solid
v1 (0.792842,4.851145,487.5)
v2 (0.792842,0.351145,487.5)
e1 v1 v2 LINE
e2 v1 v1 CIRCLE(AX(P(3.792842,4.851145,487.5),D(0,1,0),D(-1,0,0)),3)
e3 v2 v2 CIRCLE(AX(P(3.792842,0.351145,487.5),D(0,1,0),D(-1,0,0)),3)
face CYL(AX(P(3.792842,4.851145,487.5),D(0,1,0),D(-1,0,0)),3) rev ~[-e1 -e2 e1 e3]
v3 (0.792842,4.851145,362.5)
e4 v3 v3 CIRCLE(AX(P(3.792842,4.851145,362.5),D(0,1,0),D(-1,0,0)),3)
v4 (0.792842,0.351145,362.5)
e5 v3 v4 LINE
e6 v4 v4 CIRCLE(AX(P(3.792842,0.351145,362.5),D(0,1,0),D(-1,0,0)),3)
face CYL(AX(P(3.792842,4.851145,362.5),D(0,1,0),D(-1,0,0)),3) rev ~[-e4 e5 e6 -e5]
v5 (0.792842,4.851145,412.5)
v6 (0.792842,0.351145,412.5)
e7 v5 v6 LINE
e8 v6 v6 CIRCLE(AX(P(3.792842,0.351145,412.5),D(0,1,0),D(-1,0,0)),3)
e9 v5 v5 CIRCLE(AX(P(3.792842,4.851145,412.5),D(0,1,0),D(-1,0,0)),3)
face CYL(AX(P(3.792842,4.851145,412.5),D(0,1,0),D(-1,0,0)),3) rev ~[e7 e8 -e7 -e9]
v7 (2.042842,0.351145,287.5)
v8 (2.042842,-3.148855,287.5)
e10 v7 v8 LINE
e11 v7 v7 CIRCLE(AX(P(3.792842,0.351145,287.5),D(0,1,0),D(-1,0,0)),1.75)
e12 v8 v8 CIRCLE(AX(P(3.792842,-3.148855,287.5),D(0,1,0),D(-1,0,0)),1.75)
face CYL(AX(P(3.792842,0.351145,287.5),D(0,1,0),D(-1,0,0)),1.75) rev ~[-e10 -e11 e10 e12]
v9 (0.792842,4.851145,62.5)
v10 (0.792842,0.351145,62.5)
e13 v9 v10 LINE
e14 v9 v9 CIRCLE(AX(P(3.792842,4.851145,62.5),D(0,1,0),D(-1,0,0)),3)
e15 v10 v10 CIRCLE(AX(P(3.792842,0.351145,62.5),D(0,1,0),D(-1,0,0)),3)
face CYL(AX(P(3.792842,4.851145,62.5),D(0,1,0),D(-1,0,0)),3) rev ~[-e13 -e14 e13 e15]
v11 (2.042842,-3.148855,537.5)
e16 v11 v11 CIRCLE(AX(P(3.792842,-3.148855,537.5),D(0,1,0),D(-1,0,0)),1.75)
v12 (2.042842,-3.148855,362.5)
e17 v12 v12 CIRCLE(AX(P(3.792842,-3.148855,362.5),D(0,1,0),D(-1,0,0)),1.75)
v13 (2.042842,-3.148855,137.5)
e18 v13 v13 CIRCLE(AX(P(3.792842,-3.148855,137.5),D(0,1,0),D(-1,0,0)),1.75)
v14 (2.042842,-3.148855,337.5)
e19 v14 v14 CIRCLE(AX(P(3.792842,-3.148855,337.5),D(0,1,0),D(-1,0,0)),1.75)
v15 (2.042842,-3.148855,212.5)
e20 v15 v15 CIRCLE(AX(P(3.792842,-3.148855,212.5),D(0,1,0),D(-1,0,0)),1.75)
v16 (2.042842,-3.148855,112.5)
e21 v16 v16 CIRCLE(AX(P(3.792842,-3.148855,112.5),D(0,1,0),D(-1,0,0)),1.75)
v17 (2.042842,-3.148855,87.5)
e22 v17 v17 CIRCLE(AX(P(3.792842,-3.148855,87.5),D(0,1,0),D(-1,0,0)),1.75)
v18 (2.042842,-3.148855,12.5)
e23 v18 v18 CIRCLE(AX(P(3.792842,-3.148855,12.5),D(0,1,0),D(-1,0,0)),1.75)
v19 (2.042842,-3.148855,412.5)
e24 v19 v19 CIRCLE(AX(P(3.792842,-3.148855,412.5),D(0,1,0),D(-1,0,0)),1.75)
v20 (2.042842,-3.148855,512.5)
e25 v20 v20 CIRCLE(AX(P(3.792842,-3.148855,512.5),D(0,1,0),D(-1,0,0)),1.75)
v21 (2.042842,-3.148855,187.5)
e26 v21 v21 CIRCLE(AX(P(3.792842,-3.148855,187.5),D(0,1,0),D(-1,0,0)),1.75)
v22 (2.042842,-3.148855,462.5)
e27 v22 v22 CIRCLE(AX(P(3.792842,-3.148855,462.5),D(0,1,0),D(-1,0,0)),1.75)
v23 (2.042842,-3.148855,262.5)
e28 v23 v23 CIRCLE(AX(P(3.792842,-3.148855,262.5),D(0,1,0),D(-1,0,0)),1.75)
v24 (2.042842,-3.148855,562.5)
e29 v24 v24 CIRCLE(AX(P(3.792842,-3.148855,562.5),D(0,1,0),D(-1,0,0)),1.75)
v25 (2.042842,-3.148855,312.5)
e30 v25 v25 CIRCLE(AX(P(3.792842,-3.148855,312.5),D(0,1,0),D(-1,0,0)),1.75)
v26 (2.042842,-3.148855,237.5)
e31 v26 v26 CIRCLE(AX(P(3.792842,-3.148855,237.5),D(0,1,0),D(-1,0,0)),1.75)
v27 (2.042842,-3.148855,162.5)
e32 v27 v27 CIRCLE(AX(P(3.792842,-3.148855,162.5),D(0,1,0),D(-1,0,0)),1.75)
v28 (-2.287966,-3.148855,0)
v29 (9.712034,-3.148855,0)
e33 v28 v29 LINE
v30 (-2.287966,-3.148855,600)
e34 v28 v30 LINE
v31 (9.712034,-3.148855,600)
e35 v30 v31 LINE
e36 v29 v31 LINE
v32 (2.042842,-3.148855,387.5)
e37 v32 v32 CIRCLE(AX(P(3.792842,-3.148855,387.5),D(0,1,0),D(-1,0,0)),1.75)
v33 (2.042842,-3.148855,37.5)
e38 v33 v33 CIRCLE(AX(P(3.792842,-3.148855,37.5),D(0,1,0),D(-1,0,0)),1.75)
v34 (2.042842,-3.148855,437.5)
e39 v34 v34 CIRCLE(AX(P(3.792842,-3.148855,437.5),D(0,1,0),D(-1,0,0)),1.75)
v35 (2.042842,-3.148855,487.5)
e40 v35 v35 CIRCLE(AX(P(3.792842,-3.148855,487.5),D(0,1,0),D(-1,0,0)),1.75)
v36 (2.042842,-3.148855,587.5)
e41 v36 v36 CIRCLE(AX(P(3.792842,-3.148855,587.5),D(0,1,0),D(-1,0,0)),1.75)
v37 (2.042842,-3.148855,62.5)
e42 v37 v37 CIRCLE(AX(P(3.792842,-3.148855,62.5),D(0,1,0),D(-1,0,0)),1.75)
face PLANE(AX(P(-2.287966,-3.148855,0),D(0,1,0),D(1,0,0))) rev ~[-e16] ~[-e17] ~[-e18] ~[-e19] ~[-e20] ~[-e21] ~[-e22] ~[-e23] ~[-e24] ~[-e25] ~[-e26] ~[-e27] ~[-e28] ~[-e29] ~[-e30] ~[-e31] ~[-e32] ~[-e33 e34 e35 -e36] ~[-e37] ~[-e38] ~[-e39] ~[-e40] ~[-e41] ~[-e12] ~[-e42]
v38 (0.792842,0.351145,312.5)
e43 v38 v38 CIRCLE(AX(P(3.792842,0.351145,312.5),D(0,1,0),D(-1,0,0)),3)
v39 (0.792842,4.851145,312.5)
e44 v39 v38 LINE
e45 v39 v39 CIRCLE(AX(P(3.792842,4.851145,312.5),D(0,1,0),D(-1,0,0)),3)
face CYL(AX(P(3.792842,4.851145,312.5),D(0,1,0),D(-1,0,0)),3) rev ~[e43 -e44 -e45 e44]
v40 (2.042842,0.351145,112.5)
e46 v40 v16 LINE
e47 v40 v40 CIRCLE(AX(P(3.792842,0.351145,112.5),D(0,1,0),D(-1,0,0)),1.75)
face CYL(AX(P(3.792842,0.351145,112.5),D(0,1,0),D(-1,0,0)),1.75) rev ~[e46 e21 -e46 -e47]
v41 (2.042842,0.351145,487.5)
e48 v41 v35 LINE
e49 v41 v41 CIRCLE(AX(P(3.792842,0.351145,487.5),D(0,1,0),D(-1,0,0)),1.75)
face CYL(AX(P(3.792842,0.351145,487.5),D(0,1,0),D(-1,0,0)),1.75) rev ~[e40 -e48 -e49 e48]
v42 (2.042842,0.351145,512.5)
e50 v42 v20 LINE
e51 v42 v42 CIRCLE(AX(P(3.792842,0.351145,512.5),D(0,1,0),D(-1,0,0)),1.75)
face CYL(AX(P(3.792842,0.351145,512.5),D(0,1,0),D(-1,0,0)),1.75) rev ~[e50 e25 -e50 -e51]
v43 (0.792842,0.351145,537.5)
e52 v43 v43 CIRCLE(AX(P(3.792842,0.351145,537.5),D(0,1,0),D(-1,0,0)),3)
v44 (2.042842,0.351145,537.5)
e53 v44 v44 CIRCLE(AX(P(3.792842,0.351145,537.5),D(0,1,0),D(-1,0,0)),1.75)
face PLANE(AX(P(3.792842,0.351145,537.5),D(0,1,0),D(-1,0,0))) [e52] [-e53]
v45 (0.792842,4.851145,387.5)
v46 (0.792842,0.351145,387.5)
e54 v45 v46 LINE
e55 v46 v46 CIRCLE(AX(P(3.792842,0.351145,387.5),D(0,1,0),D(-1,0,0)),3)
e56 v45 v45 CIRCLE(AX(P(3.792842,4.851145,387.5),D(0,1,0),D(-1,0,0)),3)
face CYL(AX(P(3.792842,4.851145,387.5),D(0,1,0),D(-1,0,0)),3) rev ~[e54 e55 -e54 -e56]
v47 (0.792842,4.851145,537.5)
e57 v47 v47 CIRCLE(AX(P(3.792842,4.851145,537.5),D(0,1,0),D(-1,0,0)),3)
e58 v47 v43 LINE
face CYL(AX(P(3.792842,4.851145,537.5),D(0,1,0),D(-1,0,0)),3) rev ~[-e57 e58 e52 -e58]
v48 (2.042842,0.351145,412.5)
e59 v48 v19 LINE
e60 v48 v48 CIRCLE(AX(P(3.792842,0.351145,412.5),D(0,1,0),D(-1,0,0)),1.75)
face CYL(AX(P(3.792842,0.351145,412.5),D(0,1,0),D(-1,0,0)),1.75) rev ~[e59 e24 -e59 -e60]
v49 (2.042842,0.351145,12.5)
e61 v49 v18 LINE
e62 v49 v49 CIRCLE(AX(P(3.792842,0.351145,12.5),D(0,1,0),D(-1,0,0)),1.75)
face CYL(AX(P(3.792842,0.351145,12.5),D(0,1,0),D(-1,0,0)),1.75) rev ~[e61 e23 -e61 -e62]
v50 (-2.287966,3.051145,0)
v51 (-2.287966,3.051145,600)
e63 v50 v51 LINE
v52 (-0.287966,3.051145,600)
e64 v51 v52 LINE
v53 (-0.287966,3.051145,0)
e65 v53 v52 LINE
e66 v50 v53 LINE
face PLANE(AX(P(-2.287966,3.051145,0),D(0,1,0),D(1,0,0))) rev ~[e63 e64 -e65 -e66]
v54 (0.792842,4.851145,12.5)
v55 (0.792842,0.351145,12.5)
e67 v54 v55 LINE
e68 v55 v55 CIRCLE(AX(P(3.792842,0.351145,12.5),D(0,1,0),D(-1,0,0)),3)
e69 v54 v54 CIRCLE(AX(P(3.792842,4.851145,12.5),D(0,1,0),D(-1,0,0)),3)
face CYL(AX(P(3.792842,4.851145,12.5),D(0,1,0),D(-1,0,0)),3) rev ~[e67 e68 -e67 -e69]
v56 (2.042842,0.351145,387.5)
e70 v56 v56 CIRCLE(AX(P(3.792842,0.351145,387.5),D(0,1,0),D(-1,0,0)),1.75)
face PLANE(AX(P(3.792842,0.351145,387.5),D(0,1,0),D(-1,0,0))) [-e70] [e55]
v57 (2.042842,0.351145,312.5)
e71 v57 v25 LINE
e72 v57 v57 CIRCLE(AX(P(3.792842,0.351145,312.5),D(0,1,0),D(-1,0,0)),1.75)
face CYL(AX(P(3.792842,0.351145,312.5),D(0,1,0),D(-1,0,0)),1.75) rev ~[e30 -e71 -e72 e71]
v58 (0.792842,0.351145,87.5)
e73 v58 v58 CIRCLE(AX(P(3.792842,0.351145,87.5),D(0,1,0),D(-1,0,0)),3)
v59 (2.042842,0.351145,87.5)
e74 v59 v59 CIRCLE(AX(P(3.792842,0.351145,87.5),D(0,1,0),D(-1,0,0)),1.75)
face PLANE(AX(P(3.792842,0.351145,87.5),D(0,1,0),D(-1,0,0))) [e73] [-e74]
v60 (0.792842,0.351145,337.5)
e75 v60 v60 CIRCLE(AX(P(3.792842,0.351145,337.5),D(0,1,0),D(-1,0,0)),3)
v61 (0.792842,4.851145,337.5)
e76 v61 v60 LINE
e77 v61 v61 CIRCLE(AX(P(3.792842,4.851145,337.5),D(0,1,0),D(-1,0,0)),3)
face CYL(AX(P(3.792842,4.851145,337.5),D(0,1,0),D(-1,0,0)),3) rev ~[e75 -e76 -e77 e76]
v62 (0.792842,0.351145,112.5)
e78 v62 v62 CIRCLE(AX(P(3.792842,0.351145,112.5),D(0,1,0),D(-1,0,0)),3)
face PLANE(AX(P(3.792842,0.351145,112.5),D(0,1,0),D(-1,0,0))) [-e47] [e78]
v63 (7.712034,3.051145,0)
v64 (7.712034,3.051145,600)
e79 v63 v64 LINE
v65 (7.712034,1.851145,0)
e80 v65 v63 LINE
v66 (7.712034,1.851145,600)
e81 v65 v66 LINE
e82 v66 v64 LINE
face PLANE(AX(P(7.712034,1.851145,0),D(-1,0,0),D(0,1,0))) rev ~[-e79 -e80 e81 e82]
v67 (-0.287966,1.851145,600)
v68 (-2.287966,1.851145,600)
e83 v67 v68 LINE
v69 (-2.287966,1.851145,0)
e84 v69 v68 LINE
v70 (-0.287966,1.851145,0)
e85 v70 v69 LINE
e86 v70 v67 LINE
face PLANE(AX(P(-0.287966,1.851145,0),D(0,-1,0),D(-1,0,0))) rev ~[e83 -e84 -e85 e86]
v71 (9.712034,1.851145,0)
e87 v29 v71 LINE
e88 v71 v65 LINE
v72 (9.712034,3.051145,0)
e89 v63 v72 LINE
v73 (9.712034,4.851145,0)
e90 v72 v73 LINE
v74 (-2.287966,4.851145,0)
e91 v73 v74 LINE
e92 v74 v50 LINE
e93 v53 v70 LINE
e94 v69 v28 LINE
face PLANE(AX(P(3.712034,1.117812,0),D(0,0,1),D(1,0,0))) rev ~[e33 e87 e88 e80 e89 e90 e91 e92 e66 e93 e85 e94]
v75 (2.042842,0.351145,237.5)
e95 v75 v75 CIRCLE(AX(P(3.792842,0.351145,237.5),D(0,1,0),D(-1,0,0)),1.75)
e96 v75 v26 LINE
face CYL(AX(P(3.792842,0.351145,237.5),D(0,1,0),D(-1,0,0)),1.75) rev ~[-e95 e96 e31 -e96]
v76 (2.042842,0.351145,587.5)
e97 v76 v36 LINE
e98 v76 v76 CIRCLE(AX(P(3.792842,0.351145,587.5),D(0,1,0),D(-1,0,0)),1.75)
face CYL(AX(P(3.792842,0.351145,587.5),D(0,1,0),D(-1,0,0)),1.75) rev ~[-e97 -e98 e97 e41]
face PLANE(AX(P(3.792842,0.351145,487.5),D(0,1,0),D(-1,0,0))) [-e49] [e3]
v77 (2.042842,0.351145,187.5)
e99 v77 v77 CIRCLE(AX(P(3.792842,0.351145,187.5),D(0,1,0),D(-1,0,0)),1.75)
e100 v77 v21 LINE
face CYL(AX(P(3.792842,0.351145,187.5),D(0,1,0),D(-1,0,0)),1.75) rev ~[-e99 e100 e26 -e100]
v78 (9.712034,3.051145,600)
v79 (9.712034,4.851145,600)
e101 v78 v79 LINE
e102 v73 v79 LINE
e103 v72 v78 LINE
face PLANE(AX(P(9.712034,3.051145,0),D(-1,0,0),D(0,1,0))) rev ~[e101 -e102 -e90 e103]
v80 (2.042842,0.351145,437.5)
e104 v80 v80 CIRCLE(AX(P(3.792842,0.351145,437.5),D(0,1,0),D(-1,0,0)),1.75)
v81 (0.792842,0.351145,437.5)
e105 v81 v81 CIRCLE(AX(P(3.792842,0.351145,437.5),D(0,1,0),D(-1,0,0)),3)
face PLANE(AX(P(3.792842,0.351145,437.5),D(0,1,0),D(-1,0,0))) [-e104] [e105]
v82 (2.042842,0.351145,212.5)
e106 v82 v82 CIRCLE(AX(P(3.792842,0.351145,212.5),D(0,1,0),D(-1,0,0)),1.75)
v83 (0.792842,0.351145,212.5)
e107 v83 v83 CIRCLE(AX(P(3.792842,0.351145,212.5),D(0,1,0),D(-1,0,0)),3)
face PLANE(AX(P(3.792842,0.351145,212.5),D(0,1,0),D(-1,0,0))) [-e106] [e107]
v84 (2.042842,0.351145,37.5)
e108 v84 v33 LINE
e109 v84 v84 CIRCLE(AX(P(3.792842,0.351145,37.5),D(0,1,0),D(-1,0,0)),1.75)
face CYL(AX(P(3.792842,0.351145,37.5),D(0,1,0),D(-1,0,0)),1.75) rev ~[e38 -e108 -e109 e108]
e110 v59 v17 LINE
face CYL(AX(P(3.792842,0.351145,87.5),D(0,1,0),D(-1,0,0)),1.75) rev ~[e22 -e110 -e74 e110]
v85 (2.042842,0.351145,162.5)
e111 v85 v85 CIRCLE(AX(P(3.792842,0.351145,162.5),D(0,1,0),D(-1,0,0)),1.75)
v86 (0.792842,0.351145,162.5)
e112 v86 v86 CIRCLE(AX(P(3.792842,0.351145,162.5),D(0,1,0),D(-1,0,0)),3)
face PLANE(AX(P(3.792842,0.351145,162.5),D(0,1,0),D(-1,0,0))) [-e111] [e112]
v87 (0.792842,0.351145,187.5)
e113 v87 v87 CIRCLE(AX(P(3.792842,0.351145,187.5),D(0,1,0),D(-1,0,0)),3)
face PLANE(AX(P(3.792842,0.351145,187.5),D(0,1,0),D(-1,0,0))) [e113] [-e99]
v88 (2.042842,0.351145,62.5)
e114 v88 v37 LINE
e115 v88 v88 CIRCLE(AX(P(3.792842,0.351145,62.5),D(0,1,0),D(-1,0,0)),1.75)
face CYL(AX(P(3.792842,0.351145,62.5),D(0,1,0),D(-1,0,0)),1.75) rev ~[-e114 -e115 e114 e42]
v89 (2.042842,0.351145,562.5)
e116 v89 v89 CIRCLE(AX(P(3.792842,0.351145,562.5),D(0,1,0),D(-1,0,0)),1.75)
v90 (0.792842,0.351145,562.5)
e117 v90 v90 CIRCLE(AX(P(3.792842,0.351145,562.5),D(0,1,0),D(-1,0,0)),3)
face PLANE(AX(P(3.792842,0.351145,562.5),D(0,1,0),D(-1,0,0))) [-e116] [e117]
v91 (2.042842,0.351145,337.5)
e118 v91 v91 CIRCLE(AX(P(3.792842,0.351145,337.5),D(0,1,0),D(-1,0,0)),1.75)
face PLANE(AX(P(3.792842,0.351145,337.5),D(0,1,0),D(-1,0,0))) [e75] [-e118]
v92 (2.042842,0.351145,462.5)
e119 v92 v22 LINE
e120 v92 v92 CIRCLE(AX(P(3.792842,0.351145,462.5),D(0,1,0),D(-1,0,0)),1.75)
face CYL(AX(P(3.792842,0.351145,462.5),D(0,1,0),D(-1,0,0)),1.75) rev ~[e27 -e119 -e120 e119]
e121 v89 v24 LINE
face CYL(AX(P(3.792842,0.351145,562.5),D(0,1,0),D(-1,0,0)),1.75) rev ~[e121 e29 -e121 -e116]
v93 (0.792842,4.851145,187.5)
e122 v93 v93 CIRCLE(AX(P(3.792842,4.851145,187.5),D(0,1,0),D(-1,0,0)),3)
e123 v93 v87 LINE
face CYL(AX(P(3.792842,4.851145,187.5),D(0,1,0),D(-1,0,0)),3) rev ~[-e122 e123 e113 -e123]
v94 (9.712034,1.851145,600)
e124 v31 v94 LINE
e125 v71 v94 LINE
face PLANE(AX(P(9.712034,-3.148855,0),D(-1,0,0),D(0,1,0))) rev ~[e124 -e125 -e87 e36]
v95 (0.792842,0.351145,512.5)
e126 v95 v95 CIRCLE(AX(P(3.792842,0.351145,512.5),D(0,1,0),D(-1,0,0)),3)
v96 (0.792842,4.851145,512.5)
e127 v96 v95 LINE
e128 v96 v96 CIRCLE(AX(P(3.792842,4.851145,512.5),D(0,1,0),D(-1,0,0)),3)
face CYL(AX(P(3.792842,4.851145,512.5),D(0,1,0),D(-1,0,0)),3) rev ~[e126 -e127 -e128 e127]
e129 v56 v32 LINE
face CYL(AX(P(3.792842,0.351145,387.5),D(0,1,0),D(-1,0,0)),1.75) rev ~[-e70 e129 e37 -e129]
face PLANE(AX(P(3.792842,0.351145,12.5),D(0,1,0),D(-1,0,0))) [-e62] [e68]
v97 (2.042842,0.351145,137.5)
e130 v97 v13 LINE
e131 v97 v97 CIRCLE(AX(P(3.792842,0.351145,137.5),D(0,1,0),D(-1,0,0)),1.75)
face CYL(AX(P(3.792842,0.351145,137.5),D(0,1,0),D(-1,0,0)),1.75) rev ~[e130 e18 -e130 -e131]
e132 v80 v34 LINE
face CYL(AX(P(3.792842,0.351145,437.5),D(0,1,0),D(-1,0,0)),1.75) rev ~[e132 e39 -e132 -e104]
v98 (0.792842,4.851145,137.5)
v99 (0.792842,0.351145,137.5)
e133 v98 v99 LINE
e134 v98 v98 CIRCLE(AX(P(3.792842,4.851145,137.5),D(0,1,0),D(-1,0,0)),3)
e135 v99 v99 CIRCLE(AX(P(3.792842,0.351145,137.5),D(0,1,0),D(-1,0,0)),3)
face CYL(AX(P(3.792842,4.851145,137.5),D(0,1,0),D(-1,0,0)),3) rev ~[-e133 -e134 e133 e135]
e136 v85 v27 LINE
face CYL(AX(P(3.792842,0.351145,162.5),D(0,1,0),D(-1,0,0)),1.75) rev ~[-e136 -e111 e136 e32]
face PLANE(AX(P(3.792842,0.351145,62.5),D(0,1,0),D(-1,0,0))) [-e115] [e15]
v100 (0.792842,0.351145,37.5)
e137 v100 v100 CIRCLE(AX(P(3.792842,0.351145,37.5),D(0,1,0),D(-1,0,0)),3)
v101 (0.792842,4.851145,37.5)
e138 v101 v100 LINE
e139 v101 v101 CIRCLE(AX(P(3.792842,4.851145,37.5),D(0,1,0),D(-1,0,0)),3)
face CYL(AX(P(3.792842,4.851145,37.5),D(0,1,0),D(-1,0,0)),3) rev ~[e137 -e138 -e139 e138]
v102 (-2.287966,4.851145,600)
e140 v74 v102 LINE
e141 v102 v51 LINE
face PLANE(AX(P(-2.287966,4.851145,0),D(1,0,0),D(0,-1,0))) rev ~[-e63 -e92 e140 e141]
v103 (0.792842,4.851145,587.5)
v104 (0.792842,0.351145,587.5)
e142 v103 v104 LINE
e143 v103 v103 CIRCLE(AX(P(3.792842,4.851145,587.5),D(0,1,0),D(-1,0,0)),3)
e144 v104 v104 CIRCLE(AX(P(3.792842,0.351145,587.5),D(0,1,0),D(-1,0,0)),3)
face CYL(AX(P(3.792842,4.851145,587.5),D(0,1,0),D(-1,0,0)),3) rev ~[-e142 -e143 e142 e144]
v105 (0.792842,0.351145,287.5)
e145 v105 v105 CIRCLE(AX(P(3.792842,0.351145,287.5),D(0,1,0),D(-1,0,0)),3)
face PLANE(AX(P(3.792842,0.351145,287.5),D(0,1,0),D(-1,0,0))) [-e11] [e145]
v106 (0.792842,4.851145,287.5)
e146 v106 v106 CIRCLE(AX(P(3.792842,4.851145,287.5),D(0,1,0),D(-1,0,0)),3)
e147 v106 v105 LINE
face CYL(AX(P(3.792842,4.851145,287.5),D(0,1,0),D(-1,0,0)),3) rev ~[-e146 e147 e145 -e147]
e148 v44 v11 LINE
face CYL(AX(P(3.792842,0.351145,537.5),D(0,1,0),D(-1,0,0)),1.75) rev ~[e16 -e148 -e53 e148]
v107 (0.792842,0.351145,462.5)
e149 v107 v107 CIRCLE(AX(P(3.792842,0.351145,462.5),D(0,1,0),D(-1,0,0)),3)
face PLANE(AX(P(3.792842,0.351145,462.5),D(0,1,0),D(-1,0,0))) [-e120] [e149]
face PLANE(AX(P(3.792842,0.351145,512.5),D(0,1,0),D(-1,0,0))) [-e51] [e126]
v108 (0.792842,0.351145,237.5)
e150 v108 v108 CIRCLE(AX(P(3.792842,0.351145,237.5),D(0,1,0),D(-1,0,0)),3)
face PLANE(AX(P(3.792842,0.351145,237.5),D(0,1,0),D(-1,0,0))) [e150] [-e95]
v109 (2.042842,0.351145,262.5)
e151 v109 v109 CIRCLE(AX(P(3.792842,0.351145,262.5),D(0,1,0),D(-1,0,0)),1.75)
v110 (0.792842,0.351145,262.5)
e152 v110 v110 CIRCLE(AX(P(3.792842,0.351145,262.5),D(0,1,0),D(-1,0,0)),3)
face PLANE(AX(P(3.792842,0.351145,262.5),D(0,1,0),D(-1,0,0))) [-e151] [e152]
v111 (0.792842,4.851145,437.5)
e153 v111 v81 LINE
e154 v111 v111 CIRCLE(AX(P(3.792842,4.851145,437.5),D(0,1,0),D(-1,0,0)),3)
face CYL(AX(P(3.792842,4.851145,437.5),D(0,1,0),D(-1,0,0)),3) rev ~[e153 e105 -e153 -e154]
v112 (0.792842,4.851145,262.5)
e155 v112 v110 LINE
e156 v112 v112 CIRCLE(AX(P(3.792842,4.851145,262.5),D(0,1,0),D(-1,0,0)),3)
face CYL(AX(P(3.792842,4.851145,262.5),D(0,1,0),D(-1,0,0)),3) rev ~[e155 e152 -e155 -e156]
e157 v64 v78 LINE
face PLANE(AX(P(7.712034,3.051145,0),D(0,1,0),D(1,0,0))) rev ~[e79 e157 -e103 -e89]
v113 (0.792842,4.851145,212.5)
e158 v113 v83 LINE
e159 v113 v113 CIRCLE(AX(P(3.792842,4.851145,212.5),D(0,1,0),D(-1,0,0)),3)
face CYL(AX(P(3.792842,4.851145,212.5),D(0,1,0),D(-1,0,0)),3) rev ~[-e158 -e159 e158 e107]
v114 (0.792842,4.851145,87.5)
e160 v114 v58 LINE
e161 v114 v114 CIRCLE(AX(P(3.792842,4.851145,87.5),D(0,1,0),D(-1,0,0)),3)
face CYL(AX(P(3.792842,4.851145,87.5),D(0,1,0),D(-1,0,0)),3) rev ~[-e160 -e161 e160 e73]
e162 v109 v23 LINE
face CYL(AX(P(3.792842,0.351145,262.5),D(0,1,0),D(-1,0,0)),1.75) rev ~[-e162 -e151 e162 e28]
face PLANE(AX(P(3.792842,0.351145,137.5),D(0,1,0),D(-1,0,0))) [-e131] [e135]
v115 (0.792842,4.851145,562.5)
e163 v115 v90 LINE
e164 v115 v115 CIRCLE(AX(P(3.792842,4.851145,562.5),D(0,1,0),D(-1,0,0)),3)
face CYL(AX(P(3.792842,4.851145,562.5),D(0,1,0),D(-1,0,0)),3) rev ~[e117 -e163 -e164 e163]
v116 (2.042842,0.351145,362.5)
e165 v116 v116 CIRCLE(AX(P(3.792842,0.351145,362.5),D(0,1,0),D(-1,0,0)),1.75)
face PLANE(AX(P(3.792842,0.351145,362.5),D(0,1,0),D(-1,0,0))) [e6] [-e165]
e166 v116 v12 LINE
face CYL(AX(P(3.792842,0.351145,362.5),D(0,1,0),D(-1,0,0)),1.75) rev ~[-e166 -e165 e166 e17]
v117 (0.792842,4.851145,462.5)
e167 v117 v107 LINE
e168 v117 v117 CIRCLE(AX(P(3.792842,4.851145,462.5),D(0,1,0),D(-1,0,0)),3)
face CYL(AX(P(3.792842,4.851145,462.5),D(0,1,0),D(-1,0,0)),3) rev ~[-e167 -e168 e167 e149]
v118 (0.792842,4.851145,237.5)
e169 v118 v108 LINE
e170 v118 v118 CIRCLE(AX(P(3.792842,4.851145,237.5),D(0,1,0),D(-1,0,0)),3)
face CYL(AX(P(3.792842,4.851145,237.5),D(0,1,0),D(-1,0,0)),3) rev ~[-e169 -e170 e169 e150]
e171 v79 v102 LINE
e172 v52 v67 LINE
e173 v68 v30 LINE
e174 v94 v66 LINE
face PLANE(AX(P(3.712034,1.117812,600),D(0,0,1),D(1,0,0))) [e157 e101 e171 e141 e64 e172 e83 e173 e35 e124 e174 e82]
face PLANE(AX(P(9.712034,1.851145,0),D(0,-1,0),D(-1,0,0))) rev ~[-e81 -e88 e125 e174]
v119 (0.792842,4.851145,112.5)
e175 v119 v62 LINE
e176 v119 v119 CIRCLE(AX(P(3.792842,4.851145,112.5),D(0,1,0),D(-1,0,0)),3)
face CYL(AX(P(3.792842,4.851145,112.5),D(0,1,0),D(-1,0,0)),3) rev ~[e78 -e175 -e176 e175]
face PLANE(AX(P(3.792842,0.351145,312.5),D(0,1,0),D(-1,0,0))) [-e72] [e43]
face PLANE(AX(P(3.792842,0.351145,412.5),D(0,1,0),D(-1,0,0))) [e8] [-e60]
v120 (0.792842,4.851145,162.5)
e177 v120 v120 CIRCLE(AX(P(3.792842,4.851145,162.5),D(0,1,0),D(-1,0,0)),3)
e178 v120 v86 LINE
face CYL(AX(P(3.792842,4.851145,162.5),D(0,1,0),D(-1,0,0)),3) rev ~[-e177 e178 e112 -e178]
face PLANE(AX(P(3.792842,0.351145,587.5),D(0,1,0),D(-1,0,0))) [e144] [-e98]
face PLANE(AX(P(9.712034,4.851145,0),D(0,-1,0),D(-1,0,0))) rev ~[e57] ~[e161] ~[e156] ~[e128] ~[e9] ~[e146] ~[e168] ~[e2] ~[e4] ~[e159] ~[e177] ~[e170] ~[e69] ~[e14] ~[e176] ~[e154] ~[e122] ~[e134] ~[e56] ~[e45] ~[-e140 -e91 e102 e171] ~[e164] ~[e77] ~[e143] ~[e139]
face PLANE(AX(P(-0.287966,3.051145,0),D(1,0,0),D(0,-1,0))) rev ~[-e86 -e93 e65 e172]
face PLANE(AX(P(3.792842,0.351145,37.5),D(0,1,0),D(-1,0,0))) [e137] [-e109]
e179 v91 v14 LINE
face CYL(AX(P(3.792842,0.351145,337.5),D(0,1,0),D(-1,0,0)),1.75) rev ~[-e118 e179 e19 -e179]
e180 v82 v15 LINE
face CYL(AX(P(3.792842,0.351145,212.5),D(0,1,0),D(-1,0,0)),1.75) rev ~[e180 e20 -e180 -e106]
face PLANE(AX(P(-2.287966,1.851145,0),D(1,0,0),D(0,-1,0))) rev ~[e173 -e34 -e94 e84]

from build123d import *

# Parameters (mm, degrees)
BOSS_EXTRU_1_DEPTH      = 600
ESQUISSE2_R             = 3
ENL_V_MAT_EXTRU_1_DEPTH = 4.5
ENL_V_MAT_EXTRU_2_REACH = 602.095
ESQUISSE3_R             = 1.75


with BuildPart() as part:
    # Esquisse1 → Boss.-Extru.1 (new body)
    with BuildSketch(Plane.XY):
        Polygon((-2.287966089, -3.148854962), (9.712033911, -3.148854962), (9.712033911, 1.851145038), (7.712033911, 1.851145038), (7.712033911, 3.051145038), (9.712033911, 3.051145038), (9.712033911, 4.851145038), (-2.287966089, 4.851145038), (-2.287966089, 3.051145038), (-0.287966089, 3.051145038), (-0.287966089, 1.851145038), (-2.287966089, 1.851145038), align=None)
    extrude(amount=BOSS_EXTRU_1_DEPTH)

    # Esquisse2 → Enlèv. mat.-Extru.1 (cut)
    with BuildSketch(Plane(origin=(0, 4.851145038, 0), x_dir=(1, 0, 0), z_dir=(0, 1, 0))):
        with Locations(Location((3.792841972, -587.5, 0), (0, 0, 180))):
            Circle(ESQUISSE2_R)
        with Locations(Location((3.792841972, -562.5, 0), (0, 0, 180))):
            Circle(ESQUISSE2_R)
        with Locations(Location((3.792841972, -537.5, 0), (0, 0, 180))):
            Circle(ESQUISSE2_R)
        with Locations(Location((3.792841972, -512.5, 0), (0, 0, 180))):
            Circle(ESQUISSE2_R)
        with Locations(Location((3.792841972, -487.5, 0), (0, 0, 180))):
            Circle(ESQUISSE2_R)
        with Locations(Location((3.792841972, -462.5, 0), (0, 0, 180))):
            Circle(ESQUISSE2_R)
        with Locations(Location((3.792841972, -437.5, 0), (0, 0, 180))):
            Circle(ESQUISSE2_R)
        with Locations(Location((3.792841972, -412.5, 0), (0, 0, 180))):
            Circle(ESQUISSE2_R)
        with Locations(Location((3.792841972, -387.5, 0), (0, 0, 180))):
            Circle(ESQUISSE2_R)
        with Locations(Location((3.792841972, -362.5, 0), (0, 0, 180))):
            Circle(ESQUISSE2_R)
        with Locations(Location((3.792841972, -337.5, 0), (0, 0, 180))):
            Circle(ESQUISSE2_R)
        with Locations(Location((3.792841972, -312.5, 0), (0, 0, 180))):
            Circle(ESQUISSE2_R)
        with Locations(Location((3.792841972, -287.5, 0), (0, 0, 180))):
            Circle(ESQUISSE2_R)
        with Locations(Location((3.792841972, -262.5, 0), (0, 0, 180))):
            Circle(ESQUISSE2_R)
        with Locations(Location((3.792841972, -237.5, 0), (0, 0, 180))):
            Circle(ESQUISSE2_R)
        with Locations(Location((3.792841972, -212.5, 0), (0, 0, 180))):
            Circle(ESQUISSE2_R)
        with Locations(Location((3.792841972, -187.5, 0), (0, 0, 180))):
            Circle(ESQUISSE2_R)
        with Locations(Location((3.792841972, -162.5, 0), (0, 0, 180))):
            Circle(ESQUISSE2_R)
        with Locations(Location((3.792841972, -137.5, 0), (0, 0, 180))):
            Circle(ESQUISSE2_R)
        with Locations(Location((3.792841972, -112.5, 0), (0, 0, 180))):
            Circle(ESQUISSE2_R)
        with Locations(Location((3.792841972, -87.5, 0), (0, 0, 180))):
            Circle(ESQUISSE2_R)
        with Locations(Location((3.792841972, -62.5, 0), (0, 0, 180))):
            Circle(ESQUISSE2_R)
        with Locations(Location((3.792841972, -37.5, 0), (0, 0, 180))):
            Circle(ESQUISSE2_R)
        with Locations(Location((3.792841972, -12.5, 0), (0, 0, 180))):
            Circle(ESQUISSE2_R)
    extrude(amount=-ENL_V_MAT_EXTRU_1_DEPTH, mode=Mode.SUBTRACT)

    # Esquisse3 → Enlèv. mat.-Extru.2 (cut, up to next)
    with BuildSketch(Plane(origin=(0, 0.351145038, 0), x_dir=(1, 0, 0), z_dir=(0, 1, 0)), mode=Mode.PRIVATE) as enl_v_mat_extru_2_sk1:
        with Locations(Location((3.792841972, -587.5, 0), (0, 0, 180))):
            Circle(ESQUISSE3_R)
    enl_v_mat_extru_2_tool1 = extrude(enl_v_mat_extru_2_sk1.sketch, amount=-ENL_V_MAT_EXTRU_2_REACH, mode=Mode.PRIVATE) & part.part
    # Esquisse3 → Enlèv. mat.-Extru.2 (cut, up to next)
    with BuildSketch(Plane(origin=(0, 0.351145038, 0), x_dir=(1, 0, 0), z_dir=(0, 1, 0)), mode=Mode.PRIVATE) as enl_v_mat_extru_2_sk2:
        with Locations(Location((3.792841972, -562.5, 0), (0, 0, 180))):
            Circle(ESQUISSE3_R)
    enl_v_mat_extru_2_tool2 = extrude(enl_v_mat_extru_2_sk2.sketch, amount=-ENL_V_MAT_EXTRU_2_REACH, mode=Mode.PRIVATE) & part.part
    # Esquisse3 → Enlèv. mat.-Extru.2 (cut, up to next)
    with BuildSketch(Plane(origin=(0, 0.351145038, 0), x_dir=(1, 0, 0), z_dir=(0, 1, 0)), mode=Mode.PRIVATE) as enl_v_mat_extru_2_sk3:
        with Locations(Location((3.792841972, -537.5, 0), (0, 0, 180))):
            Circle(ESQUISSE3_R)
    enl_v_mat_extru_2_tool3 = extrude(enl_v_mat_extru_2_sk3.sketch, amount=-ENL_V_MAT_EXTRU_2_REACH, mode=Mode.PRIVATE) & part.part
    # Esquisse3 → Enlèv. mat.-Extru.2 (cut, up to next)
    with BuildSketch(Plane(origin=(0, 0.351145038, 0), x_dir=(1, 0, 0), z_dir=(0, 1, 0)), mode=Mode.PRIVATE) as enl_v_mat_extru_2_sk4:
        with Locations(Location((3.792841972, -512.5, 0), (0, 0, 180))):
            Circle(ESQUISSE3_R)
    enl_v_mat_extru_2_tool4 = extrude(enl_v_mat_extru_2_sk4.sketch, amount=-ENL_V_MAT_EXTRU_2_REACH, mode=Mode.PRIVATE) & part.part
    # Esquisse3 → Enlèv. mat.-Extru.2 (cut, up to next)
    with BuildSketch(Plane(origin=(0, 0.351145038, 0), x_dir=(1, 0, 0), z_dir=(0, 1, 0)), mode=Mode.PRIVATE) as enl_v_mat_extru_2_sk5:
        with Locations(Location((3.792841972, -487.5, 0), (0, 0, 180))):
            Circle(ESQUISSE3_R)
    enl_v_mat_extru_2_tool5 = extrude(enl_v_mat_extru_2_sk5.sketch, amount=-ENL_V_MAT_EXTRU_2_REACH, mode=Mode.PRIVATE) & part.part
    # Esquisse3 → Enlèv. mat.-Extru.2 (cut, up to next)
    with BuildSketch(Plane(origin=(0, 0.351145038, 0), x_dir=(1, 0, 0), z_dir=(0, 1, 0)), mode=Mode.PRIVATE) as enl_v_mat_extru_2_sk6:
        with Locations(Location((3.792841972, -462.5, 0), (0, 0, 180))):
            Circle(ESQUISSE3_R)
    enl_v_mat_extru_2_tool6 = extrude(enl_v_mat_extru_2_sk6.sketch, amount=-ENL_V_MAT_EXTRU_2_REACH, mode=Mode.PRIVATE) & part.part
    # Esquisse3 → Enlèv. mat.-Extru.2 (cut, up to next)
    with BuildSketch(Plane(origin=(0, 0.351145038, 0), x_dir=(1, 0, 0), z_dir=(0, 1, 0)), mode=Mode.PRIVATE) as enl_v_mat_extru_2_sk7:
        with Locations(Location((3.792841972, -437.5, 0), (0, 0, 180))):
            Circle(ESQUISSE3_R)
    enl_v_mat_extru_2_tool7 = extrude(enl_v_mat_extru_2_sk7.sketch, amount=-ENL_V_MAT_EXTRU_2_REACH, mode=Mode.PRIVATE) & part.part
    # Esquisse3 → Enlèv. mat.-Extru.2 (cut, up to next)
    with BuildSketch(Plane(origin=(0, 0.351145038, 0), x_dir=(1, 0, 0), z_dir=(0, 1, 0)), mode=Mode.PRIVATE) as enl_v_mat_extru_2_sk8:
        with Locations(Location((3.792841972, -412.5, 0), (0, 0, 180))):
            Circle(ESQUISSE3_R)
    enl_v_mat_extru_2_tool8 = extrude(enl_v_mat_extru_2_sk8.sketch, amount=-ENL_V_MAT_EXTRU_2_REACH, mode=Mode.PRIVATE) & part.part
    # Esquisse3 → Enlèv. mat.-Extru.2 (cut, up to next)
    with BuildSketch(Plane(origin=(0, 0.351145038, 0), x_dir=(1, 0, 0), z_dir=(0, 1, 0)), mode=Mode.PRIVATE) as enl_v_mat_extru_2_sk9:
        with Locations(Location((3.792841972, -387.5, 0), (0, 0, 180))):
            Circle(ESQUISSE3_R)
    enl_v_mat_extru_2_tool9 = extrude(enl_v_mat_extru_2_sk9.sketch, amount=-ENL_V_MAT_EXTRU_2_REACH, mode=Mode.PRIVATE) & part.part
    # Esquisse3 → Enlèv. mat.-Extru.2 (cut, up to next)
    with BuildSketch(Plane(origin=(0, 0.351145038, 0), x_dir=(1, 0, 0), z_dir=(0, 1, 0)), mode=Mode.PRIVATE) as enl_v_mat_extru_2_sk10:
        with Locations(Location((3.792841972, -362.5, 0), (0, 0, 180))):
            Circle(ESQUISSE3_R)
    enl_v_mat_extru_2_tool10 = extrude(enl_v_mat_extru_2_sk10.sketch, amount=-ENL_V_MAT_EXTRU_2_REACH, mode=Mode.PRIVATE) & part.part
    # Esquisse3 → Enlèv. mat.-Extru.2 (cut, up to next)
    with BuildSketch(Plane(origin=(0, 0.351145038, 0), x_dir=(1, 0, 0), z_dir=(0, 1, 0)), mode=Mode.PRIVATE) as enl_v_mat_extru_2_sk11:
        with Locations(Location((3.792841972, -337.5, 0), (0, 0, 180))):
            Circle(ESQUISSE3_R)
    enl_v_mat_extru_2_tool11 = extrude(enl_v_mat_extru_2_sk11.sketch, amount=-ENL_V_MAT_EXTRU_2_REACH, mode=Mode.PRIVATE) & part.part
    # Esquisse3 → Enlèv. mat.-Extru.2 (cut, up to next)
    with BuildSketch(Plane(origin=(0, 0.351145038, 0), x_dir=(1, 0, 0), z_dir=(0, 1, 0)), mode=Mode.PRIVATE) as enl_v_mat_extru_2_sk12:
        with Locations(Location((3.792841972, -312.5, 0), (0, 0, 180))):
            Circle(ESQUISSE3_R)
    enl_v_mat_extru_2_tool12 = extrude(enl_v_mat_extru_2_sk12.sketch, amount=-ENL_V_MAT_EXTRU_2_REACH, mode=Mode.PRIVATE) & part.part
    # Esquisse3 → Enlèv. mat.-Extru.2 (cut, up to next)
    with BuildSketch(Plane(origin=(0, 0.351145038, 0), x_dir=(1, 0, 0), z_dir=(0, 1, 0)), mode=Mode.PRIVATE) as enl_v_mat_extru_2_sk13:
        with Locations(Location((3.792841972, -287.5, 0), (0, 0, 180))):
            Circle(ESQUISSE3_R)
    enl_v_mat_extru_2_tool13 = extrude(enl_v_mat_extru_2_sk13.sketch, amount=-ENL_V_MAT_EXTRU_2_REACH, mode=Mode.PRIVATE) & part.part
    # Esquisse3 → Enlèv. mat.-Extru.2 (cut, up to next)
    with BuildSketch(Plane(origin=(0, 0.351145038, 0), x_dir=(1, 0, 0), z_dir=(0, 1, 0)), mode=Mode.PRIVATE) as enl_v_mat_extru_2_sk14:
        with Locations(Location((3.792841972, -262.5, 0), (0, 0, 180))):
            Circle(ESQUISSE3_R)
    enl_v_mat_extru_2_tool14 = extrude(enl_v_mat_extru_2_sk14.sketch, amount=-ENL_V_MAT_EXTRU_2_REACH, mode=Mode.PRIVATE) & part.part
    # Esquisse3 → Enlèv. mat.-Extru.2 (cut, up to next)
    with BuildSketch(Plane(origin=(0, 0.351145038, 0), x_dir=(1, 0, 0), z_dir=(0, 1, 0)), mode=Mode.PRIVATE) as enl_v_mat_extru_2_sk15:
        with Locations(Location((3.792841972, -237.5, 0), (0, 0, 180))):
            Circle(ESQUISSE3_R)
    enl_v_mat_extru_2_tool15 = extrude(enl_v_mat_extru_2_sk15.sketch, amount=-ENL_V_MAT_EXTRU_2_REACH, mode=Mode.PRIVATE) & part.part
    # Esquisse3 → Enlèv. mat.-Extru.2 (cut, up to next)
    with BuildSketch(Plane(origin=(0, 0.351145038, 0), x_dir=(1, 0, 0), z_dir=(0, 1, 0)), mode=Mode.PRIVATE) as enl_v_mat_extru_2_sk16:
        with Locations(Location((3.792841972, -212.5, 0), (0, 0, 180))):
            Circle(ESQUISSE3_R)
    enl_v_mat_extru_2_tool16 = extrude(enl_v_mat_extru_2_sk16.sketch, amount=-ENL_V_MAT_EXTRU_2_REACH, mode=Mode.PRIVATE) & part.part
    # Esquisse3 → Enlèv. mat.-Extru.2 (cut, up to next)
    with BuildSketch(Plane(origin=(0, 0.351145038, 0), x_dir=(1, 0, 0), z_dir=(0, 1, 0)), mode=Mode.PRIVATE) as enl_v_mat_extru_2_sk17:
        with Locations(Location((3.792841972, -187.5, 0), (0, 0, 180))):
            Circle(ESQUISSE3_R)
    enl_v_mat_extru_2_tool17 = extrude(enl_v_mat_extru_2_sk17.sketch, amount=-ENL_V_MAT_EXTRU_2_REACH, mode=Mode.PRIVATE) & part.part
    # Esquisse3 → Enlèv. mat.-Extru.2 (cut, up to next)
    with BuildSketch(Plane(origin=(0, 0.351145038, 0), x_dir=(1, 0, 0), z_dir=(0, 1, 0)), mode=Mode.PRIVATE) as enl_v_mat_extru_2_sk18:
        with Locations(Location((3.792841972, -162.5, 0), (0, 0, 180))):
            Circle(ESQUISSE3_R)
    enl_v_mat_extru_2_tool18 = extrude(enl_v_mat_extru_2_sk18.sketch, amount=-ENL_V_MAT_EXTRU_2_REACH, mode=Mode.PRIVATE) & part.part
    # Esquisse3 → Enlèv. mat.-Extru.2 (cut, up to next)
    with BuildSketch(Plane(origin=(0, 0.351145038, 0), x_dir=(1, 0, 0), z_dir=(0, 1, 0)), mode=Mode.PRIVATE) as enl_v_mat_extru_2_sk19:
        with Locations(Location((3.792841972, -137.5, 0), (0, 0, 180))):
            Circle(ESQUISSE3_R)
    enl_v_mat_extru_2_tool19 = extrude(enl_v_mat_extru_2_sk19.sketch, amount=-ENL_V_MAT_EXTRU_2_REACH, mode=Mode.PRIVATE) & part.part
    # Esquisse3 → Enlèv. mat.-Extru.2 (cut, up to next)
    with BuildSketch(Plane(origin=(0, 0.351145038, 0), x_dir=(1, 0, 0), z_dir=(0, 1, 0)), mode=Mode.PRIVATE) as enl_v_mat_extru_2_sk20:
        with Locations(Location((3.792841972, -112.5, 0), (0, 0, 180))):
            Circle(ESQUISSE3_R)
    enl_v_mat_extru_2_tool20 = extrude(enl_v_mat_extru_2_sk20.sketch, amount=-ENL_V_MAT_EXTRU_2_REACH, mode=Mode.PRIVATE) & part.part
    # Esquisse3 → Enlèv. mat.-Extru.2 (cut, up to next)
    with BuildSketch(Plane(origin=(0, 0.351145038, 0), x_dir=(1, 0, 0), z_dir=(0, 1, 0)), mode=Mode.PRIVATE) as enl_v_mat_extru_2_sk21:
        with Locations(Location((3.792841972, -87.5, 0), (0, 0, 180))):
            Circle(ESQUISSE3_R)
    enl_v_mat_extru_2_tool21 = extrude(enl_v_mat_extru_2_sk21.sketch, amount=-ENL_V_MAT_EXTRU_2_REACH, mode=Mode.PRIVATE) & part.part
    # Esquisse3 → Enlèv. mat.-Extru.2 (cut, up to next)
    with BuildSketch(Plane(origin=(0, 0.351145038, 0), x_dir=(1, 0, 0), z_dir=(0, 1, 0)), mode=Mode.PRIVATE) as enl_v_mat_extru_2_sk22:
        with Locations(Location((3.792841972, -62.5, 0), (0, 0, 180))):
            Circle(ESQUISSE3_R)
    enl_v_mat_extru_2_tool22 = extrude(enl_v_mat_extru_2_sk22.sketch, amount=-ENL_V_MAT_EXTRU_2_REACH, mode=Mode.PRIVATE) & part.part
    # Esquisse3 → Enlèv. mat.-Extru.2 (cut, up to next)
    with BuildSketch(Plane(origin=(0, 0.351145038, 0), x_dir=(1, 0, 0), z_dir=(0, 1, 0)), mode=Mode.PRIVATE) as enl_v_mat_extru_2_sk23:
        with Locations(Location((3.792841972, -37.5, 0), (0, 0, 180))):
            Circle(ESQUISSE3_R)
    enl_v_mat_extru_2_tool23 = extrude(enl_v_mat_extru_2_sk23.sketch, amount=-ENL_V_MAT_EXTRU_2_REACH, mode=Mode.PRIVATE) & part.part
    # Esquisse3 → Enlèv. mat.-Extru.2 (cut, up to next)
    with BuildSketch(Plane(origin=(0, 0.351145038, 0), x_dir=(1, 0, 0), z_dir=(0, 1, 0)), mode=Mode.PRIVATE) as enl_v_mat_extru_2_sk24:
        with Locations(Location((3.792841972, -12.5, 0), (0, 0, 180))):
            Circle(ESQUISSE3_R)
    enl_v_mat_extru_2_tool24 = extrude(enl_v_mat_extru_2_sk24.sketch, amount=-ENL_V_MAT_EXTRU_2_REACH, mode=Mode.PRIVATE) & part.part
    add(enl_v_mat_extru_2_tool1.solids().sort_by_distance((3.792842, 0.351145, 587.5))[0], mode=Mode.SUBTRACT)
    add(enl_v_mat_extru_2_tool2.solids().sort_by_distance((3.792842, 0.351145, 562.5))[0], mode=Mode.SUBTRACT)
    add(enl_v_mat_extru_2_tool3.solids().sort_by_distance((3.792842, 0.351145, 537.5))[0], mode=Mode.SUBTRACT)
    add(enl_v_mat_extru_2_tool4.solids().sort_by_distance((3.792842, 0.351145, 512.5))[0], mode=Mode.SUBTRACT)
    add(enl_v_mat_extru_2_tool5.solids().sort_by_distance((3.792842, 0.351145, 487.5))[0], mode=Mode.SUBTRACT)
    add(enl_v_mat_extru_2_tool6.solids().sort_by_distance((3.792842, 0.351145, 462.5))[0], mode=Mode.SUBTRACT)
    add(enl_v_mat_extru_2_tool7.solids().sort_by_distance((3.792842, 0.351145, 437.5))[0], mode=Mode.SUBTRACT)
    add(enl_v_mat_extru_2_tool8.solids().sort_by_distance((3.792842, 0.351145, 412.5))[0], mode=Mode.SUBTRACT)
    add(enl_v_mat_extru_2_tool9.solids().sort_by_distance((3.792842, 0.351145, 387.5))[0], mode=Mode.SUBTRACT)
    add(enl_v_mat_extru_2_tool10.solids().sort_by_distance((3.792842, 0.351145, 362.5))[0], mode=Mode.SUBTRACT)
    add(enl_v_mat_extru_2_tool11.solids().sort_by_distance((3.792842, 0.351145, 337.5))[0], mode=Mode.SUBTRACT)
    add(enl_v_mat_extru_2_tool12.solids().sort_by_distance((3.792842, 0.351145, 312.5))[0], mode=Mode.SUBTRACT)
    add(enl_v_mat_extru_2_tool13.solids().sort_by_distance((3.792842, 0.351145, 287.5))[0], mode=Mode.SUBTRACT)
    add(enl_v_mat_extru_2_tool14.solids().sort_by_distance((3.792842, 0.351145, 262.5))[0], mode=Mode.SUBTRACT)
    add(enl_v_mat_extru_2_tool15.solids().sort_by_distance((3.792842, 0.351145, 237.5))[0], mode=Mode.SUBTRACT)
    add(enl_v_mat_extru_2_tool16.solids().sort_by_distance((3.792842, 0.351145, 212.5))[0], mode=Mode.SUBTRACT)
    add(enl_v_mat_extru_2_tool17.solids().sort_by_distance((3.792842, 0.351145, 187.5))[0], mode=Mode.SUBTRACT)
    add(enl_v_mat_extru_2_tool18.solids().sort_by_distance((3.792842, 0.351145, 162.5))[0], mode=Mode.SUBTRACT)
    add(enl_v_mat_extru_2_tool19.solids().sort_by_distance((3.792842, 0.351145, 137.5))[0], mode=Mode.SUBTRACT)
    add(enl_v_mat_extru_2_tool20.solids().sort_by_distance((3.792842, 0.351145, 112.5))[0], mode=Mode.SUBTRACT)
    add(enl_v_mat_extru_2_tool21.solids().sort_by_distance((3.792842, 0.351145, 87.5))[0], mode=Mode.SUBTRACT)
    add(enl_v_mat_extru_2_tool22.solids().sort_by_distance((3.792842, 0.351145, 62.5))[0], mode=Mode.SUBTRACT)
    add(enl_v_mat_extru_2_tool23.solids().sort_by_distance((3.792842, 0.351145, 37.5))[0], mode=Mode.SUBTRACT)
    add(enl_v_mat_extru_2_tool24.solids().sort_by_distance((3.792842, 0.351145, 12.5))[0], mode=Mode.SUBTRACT)


solid = part.part
